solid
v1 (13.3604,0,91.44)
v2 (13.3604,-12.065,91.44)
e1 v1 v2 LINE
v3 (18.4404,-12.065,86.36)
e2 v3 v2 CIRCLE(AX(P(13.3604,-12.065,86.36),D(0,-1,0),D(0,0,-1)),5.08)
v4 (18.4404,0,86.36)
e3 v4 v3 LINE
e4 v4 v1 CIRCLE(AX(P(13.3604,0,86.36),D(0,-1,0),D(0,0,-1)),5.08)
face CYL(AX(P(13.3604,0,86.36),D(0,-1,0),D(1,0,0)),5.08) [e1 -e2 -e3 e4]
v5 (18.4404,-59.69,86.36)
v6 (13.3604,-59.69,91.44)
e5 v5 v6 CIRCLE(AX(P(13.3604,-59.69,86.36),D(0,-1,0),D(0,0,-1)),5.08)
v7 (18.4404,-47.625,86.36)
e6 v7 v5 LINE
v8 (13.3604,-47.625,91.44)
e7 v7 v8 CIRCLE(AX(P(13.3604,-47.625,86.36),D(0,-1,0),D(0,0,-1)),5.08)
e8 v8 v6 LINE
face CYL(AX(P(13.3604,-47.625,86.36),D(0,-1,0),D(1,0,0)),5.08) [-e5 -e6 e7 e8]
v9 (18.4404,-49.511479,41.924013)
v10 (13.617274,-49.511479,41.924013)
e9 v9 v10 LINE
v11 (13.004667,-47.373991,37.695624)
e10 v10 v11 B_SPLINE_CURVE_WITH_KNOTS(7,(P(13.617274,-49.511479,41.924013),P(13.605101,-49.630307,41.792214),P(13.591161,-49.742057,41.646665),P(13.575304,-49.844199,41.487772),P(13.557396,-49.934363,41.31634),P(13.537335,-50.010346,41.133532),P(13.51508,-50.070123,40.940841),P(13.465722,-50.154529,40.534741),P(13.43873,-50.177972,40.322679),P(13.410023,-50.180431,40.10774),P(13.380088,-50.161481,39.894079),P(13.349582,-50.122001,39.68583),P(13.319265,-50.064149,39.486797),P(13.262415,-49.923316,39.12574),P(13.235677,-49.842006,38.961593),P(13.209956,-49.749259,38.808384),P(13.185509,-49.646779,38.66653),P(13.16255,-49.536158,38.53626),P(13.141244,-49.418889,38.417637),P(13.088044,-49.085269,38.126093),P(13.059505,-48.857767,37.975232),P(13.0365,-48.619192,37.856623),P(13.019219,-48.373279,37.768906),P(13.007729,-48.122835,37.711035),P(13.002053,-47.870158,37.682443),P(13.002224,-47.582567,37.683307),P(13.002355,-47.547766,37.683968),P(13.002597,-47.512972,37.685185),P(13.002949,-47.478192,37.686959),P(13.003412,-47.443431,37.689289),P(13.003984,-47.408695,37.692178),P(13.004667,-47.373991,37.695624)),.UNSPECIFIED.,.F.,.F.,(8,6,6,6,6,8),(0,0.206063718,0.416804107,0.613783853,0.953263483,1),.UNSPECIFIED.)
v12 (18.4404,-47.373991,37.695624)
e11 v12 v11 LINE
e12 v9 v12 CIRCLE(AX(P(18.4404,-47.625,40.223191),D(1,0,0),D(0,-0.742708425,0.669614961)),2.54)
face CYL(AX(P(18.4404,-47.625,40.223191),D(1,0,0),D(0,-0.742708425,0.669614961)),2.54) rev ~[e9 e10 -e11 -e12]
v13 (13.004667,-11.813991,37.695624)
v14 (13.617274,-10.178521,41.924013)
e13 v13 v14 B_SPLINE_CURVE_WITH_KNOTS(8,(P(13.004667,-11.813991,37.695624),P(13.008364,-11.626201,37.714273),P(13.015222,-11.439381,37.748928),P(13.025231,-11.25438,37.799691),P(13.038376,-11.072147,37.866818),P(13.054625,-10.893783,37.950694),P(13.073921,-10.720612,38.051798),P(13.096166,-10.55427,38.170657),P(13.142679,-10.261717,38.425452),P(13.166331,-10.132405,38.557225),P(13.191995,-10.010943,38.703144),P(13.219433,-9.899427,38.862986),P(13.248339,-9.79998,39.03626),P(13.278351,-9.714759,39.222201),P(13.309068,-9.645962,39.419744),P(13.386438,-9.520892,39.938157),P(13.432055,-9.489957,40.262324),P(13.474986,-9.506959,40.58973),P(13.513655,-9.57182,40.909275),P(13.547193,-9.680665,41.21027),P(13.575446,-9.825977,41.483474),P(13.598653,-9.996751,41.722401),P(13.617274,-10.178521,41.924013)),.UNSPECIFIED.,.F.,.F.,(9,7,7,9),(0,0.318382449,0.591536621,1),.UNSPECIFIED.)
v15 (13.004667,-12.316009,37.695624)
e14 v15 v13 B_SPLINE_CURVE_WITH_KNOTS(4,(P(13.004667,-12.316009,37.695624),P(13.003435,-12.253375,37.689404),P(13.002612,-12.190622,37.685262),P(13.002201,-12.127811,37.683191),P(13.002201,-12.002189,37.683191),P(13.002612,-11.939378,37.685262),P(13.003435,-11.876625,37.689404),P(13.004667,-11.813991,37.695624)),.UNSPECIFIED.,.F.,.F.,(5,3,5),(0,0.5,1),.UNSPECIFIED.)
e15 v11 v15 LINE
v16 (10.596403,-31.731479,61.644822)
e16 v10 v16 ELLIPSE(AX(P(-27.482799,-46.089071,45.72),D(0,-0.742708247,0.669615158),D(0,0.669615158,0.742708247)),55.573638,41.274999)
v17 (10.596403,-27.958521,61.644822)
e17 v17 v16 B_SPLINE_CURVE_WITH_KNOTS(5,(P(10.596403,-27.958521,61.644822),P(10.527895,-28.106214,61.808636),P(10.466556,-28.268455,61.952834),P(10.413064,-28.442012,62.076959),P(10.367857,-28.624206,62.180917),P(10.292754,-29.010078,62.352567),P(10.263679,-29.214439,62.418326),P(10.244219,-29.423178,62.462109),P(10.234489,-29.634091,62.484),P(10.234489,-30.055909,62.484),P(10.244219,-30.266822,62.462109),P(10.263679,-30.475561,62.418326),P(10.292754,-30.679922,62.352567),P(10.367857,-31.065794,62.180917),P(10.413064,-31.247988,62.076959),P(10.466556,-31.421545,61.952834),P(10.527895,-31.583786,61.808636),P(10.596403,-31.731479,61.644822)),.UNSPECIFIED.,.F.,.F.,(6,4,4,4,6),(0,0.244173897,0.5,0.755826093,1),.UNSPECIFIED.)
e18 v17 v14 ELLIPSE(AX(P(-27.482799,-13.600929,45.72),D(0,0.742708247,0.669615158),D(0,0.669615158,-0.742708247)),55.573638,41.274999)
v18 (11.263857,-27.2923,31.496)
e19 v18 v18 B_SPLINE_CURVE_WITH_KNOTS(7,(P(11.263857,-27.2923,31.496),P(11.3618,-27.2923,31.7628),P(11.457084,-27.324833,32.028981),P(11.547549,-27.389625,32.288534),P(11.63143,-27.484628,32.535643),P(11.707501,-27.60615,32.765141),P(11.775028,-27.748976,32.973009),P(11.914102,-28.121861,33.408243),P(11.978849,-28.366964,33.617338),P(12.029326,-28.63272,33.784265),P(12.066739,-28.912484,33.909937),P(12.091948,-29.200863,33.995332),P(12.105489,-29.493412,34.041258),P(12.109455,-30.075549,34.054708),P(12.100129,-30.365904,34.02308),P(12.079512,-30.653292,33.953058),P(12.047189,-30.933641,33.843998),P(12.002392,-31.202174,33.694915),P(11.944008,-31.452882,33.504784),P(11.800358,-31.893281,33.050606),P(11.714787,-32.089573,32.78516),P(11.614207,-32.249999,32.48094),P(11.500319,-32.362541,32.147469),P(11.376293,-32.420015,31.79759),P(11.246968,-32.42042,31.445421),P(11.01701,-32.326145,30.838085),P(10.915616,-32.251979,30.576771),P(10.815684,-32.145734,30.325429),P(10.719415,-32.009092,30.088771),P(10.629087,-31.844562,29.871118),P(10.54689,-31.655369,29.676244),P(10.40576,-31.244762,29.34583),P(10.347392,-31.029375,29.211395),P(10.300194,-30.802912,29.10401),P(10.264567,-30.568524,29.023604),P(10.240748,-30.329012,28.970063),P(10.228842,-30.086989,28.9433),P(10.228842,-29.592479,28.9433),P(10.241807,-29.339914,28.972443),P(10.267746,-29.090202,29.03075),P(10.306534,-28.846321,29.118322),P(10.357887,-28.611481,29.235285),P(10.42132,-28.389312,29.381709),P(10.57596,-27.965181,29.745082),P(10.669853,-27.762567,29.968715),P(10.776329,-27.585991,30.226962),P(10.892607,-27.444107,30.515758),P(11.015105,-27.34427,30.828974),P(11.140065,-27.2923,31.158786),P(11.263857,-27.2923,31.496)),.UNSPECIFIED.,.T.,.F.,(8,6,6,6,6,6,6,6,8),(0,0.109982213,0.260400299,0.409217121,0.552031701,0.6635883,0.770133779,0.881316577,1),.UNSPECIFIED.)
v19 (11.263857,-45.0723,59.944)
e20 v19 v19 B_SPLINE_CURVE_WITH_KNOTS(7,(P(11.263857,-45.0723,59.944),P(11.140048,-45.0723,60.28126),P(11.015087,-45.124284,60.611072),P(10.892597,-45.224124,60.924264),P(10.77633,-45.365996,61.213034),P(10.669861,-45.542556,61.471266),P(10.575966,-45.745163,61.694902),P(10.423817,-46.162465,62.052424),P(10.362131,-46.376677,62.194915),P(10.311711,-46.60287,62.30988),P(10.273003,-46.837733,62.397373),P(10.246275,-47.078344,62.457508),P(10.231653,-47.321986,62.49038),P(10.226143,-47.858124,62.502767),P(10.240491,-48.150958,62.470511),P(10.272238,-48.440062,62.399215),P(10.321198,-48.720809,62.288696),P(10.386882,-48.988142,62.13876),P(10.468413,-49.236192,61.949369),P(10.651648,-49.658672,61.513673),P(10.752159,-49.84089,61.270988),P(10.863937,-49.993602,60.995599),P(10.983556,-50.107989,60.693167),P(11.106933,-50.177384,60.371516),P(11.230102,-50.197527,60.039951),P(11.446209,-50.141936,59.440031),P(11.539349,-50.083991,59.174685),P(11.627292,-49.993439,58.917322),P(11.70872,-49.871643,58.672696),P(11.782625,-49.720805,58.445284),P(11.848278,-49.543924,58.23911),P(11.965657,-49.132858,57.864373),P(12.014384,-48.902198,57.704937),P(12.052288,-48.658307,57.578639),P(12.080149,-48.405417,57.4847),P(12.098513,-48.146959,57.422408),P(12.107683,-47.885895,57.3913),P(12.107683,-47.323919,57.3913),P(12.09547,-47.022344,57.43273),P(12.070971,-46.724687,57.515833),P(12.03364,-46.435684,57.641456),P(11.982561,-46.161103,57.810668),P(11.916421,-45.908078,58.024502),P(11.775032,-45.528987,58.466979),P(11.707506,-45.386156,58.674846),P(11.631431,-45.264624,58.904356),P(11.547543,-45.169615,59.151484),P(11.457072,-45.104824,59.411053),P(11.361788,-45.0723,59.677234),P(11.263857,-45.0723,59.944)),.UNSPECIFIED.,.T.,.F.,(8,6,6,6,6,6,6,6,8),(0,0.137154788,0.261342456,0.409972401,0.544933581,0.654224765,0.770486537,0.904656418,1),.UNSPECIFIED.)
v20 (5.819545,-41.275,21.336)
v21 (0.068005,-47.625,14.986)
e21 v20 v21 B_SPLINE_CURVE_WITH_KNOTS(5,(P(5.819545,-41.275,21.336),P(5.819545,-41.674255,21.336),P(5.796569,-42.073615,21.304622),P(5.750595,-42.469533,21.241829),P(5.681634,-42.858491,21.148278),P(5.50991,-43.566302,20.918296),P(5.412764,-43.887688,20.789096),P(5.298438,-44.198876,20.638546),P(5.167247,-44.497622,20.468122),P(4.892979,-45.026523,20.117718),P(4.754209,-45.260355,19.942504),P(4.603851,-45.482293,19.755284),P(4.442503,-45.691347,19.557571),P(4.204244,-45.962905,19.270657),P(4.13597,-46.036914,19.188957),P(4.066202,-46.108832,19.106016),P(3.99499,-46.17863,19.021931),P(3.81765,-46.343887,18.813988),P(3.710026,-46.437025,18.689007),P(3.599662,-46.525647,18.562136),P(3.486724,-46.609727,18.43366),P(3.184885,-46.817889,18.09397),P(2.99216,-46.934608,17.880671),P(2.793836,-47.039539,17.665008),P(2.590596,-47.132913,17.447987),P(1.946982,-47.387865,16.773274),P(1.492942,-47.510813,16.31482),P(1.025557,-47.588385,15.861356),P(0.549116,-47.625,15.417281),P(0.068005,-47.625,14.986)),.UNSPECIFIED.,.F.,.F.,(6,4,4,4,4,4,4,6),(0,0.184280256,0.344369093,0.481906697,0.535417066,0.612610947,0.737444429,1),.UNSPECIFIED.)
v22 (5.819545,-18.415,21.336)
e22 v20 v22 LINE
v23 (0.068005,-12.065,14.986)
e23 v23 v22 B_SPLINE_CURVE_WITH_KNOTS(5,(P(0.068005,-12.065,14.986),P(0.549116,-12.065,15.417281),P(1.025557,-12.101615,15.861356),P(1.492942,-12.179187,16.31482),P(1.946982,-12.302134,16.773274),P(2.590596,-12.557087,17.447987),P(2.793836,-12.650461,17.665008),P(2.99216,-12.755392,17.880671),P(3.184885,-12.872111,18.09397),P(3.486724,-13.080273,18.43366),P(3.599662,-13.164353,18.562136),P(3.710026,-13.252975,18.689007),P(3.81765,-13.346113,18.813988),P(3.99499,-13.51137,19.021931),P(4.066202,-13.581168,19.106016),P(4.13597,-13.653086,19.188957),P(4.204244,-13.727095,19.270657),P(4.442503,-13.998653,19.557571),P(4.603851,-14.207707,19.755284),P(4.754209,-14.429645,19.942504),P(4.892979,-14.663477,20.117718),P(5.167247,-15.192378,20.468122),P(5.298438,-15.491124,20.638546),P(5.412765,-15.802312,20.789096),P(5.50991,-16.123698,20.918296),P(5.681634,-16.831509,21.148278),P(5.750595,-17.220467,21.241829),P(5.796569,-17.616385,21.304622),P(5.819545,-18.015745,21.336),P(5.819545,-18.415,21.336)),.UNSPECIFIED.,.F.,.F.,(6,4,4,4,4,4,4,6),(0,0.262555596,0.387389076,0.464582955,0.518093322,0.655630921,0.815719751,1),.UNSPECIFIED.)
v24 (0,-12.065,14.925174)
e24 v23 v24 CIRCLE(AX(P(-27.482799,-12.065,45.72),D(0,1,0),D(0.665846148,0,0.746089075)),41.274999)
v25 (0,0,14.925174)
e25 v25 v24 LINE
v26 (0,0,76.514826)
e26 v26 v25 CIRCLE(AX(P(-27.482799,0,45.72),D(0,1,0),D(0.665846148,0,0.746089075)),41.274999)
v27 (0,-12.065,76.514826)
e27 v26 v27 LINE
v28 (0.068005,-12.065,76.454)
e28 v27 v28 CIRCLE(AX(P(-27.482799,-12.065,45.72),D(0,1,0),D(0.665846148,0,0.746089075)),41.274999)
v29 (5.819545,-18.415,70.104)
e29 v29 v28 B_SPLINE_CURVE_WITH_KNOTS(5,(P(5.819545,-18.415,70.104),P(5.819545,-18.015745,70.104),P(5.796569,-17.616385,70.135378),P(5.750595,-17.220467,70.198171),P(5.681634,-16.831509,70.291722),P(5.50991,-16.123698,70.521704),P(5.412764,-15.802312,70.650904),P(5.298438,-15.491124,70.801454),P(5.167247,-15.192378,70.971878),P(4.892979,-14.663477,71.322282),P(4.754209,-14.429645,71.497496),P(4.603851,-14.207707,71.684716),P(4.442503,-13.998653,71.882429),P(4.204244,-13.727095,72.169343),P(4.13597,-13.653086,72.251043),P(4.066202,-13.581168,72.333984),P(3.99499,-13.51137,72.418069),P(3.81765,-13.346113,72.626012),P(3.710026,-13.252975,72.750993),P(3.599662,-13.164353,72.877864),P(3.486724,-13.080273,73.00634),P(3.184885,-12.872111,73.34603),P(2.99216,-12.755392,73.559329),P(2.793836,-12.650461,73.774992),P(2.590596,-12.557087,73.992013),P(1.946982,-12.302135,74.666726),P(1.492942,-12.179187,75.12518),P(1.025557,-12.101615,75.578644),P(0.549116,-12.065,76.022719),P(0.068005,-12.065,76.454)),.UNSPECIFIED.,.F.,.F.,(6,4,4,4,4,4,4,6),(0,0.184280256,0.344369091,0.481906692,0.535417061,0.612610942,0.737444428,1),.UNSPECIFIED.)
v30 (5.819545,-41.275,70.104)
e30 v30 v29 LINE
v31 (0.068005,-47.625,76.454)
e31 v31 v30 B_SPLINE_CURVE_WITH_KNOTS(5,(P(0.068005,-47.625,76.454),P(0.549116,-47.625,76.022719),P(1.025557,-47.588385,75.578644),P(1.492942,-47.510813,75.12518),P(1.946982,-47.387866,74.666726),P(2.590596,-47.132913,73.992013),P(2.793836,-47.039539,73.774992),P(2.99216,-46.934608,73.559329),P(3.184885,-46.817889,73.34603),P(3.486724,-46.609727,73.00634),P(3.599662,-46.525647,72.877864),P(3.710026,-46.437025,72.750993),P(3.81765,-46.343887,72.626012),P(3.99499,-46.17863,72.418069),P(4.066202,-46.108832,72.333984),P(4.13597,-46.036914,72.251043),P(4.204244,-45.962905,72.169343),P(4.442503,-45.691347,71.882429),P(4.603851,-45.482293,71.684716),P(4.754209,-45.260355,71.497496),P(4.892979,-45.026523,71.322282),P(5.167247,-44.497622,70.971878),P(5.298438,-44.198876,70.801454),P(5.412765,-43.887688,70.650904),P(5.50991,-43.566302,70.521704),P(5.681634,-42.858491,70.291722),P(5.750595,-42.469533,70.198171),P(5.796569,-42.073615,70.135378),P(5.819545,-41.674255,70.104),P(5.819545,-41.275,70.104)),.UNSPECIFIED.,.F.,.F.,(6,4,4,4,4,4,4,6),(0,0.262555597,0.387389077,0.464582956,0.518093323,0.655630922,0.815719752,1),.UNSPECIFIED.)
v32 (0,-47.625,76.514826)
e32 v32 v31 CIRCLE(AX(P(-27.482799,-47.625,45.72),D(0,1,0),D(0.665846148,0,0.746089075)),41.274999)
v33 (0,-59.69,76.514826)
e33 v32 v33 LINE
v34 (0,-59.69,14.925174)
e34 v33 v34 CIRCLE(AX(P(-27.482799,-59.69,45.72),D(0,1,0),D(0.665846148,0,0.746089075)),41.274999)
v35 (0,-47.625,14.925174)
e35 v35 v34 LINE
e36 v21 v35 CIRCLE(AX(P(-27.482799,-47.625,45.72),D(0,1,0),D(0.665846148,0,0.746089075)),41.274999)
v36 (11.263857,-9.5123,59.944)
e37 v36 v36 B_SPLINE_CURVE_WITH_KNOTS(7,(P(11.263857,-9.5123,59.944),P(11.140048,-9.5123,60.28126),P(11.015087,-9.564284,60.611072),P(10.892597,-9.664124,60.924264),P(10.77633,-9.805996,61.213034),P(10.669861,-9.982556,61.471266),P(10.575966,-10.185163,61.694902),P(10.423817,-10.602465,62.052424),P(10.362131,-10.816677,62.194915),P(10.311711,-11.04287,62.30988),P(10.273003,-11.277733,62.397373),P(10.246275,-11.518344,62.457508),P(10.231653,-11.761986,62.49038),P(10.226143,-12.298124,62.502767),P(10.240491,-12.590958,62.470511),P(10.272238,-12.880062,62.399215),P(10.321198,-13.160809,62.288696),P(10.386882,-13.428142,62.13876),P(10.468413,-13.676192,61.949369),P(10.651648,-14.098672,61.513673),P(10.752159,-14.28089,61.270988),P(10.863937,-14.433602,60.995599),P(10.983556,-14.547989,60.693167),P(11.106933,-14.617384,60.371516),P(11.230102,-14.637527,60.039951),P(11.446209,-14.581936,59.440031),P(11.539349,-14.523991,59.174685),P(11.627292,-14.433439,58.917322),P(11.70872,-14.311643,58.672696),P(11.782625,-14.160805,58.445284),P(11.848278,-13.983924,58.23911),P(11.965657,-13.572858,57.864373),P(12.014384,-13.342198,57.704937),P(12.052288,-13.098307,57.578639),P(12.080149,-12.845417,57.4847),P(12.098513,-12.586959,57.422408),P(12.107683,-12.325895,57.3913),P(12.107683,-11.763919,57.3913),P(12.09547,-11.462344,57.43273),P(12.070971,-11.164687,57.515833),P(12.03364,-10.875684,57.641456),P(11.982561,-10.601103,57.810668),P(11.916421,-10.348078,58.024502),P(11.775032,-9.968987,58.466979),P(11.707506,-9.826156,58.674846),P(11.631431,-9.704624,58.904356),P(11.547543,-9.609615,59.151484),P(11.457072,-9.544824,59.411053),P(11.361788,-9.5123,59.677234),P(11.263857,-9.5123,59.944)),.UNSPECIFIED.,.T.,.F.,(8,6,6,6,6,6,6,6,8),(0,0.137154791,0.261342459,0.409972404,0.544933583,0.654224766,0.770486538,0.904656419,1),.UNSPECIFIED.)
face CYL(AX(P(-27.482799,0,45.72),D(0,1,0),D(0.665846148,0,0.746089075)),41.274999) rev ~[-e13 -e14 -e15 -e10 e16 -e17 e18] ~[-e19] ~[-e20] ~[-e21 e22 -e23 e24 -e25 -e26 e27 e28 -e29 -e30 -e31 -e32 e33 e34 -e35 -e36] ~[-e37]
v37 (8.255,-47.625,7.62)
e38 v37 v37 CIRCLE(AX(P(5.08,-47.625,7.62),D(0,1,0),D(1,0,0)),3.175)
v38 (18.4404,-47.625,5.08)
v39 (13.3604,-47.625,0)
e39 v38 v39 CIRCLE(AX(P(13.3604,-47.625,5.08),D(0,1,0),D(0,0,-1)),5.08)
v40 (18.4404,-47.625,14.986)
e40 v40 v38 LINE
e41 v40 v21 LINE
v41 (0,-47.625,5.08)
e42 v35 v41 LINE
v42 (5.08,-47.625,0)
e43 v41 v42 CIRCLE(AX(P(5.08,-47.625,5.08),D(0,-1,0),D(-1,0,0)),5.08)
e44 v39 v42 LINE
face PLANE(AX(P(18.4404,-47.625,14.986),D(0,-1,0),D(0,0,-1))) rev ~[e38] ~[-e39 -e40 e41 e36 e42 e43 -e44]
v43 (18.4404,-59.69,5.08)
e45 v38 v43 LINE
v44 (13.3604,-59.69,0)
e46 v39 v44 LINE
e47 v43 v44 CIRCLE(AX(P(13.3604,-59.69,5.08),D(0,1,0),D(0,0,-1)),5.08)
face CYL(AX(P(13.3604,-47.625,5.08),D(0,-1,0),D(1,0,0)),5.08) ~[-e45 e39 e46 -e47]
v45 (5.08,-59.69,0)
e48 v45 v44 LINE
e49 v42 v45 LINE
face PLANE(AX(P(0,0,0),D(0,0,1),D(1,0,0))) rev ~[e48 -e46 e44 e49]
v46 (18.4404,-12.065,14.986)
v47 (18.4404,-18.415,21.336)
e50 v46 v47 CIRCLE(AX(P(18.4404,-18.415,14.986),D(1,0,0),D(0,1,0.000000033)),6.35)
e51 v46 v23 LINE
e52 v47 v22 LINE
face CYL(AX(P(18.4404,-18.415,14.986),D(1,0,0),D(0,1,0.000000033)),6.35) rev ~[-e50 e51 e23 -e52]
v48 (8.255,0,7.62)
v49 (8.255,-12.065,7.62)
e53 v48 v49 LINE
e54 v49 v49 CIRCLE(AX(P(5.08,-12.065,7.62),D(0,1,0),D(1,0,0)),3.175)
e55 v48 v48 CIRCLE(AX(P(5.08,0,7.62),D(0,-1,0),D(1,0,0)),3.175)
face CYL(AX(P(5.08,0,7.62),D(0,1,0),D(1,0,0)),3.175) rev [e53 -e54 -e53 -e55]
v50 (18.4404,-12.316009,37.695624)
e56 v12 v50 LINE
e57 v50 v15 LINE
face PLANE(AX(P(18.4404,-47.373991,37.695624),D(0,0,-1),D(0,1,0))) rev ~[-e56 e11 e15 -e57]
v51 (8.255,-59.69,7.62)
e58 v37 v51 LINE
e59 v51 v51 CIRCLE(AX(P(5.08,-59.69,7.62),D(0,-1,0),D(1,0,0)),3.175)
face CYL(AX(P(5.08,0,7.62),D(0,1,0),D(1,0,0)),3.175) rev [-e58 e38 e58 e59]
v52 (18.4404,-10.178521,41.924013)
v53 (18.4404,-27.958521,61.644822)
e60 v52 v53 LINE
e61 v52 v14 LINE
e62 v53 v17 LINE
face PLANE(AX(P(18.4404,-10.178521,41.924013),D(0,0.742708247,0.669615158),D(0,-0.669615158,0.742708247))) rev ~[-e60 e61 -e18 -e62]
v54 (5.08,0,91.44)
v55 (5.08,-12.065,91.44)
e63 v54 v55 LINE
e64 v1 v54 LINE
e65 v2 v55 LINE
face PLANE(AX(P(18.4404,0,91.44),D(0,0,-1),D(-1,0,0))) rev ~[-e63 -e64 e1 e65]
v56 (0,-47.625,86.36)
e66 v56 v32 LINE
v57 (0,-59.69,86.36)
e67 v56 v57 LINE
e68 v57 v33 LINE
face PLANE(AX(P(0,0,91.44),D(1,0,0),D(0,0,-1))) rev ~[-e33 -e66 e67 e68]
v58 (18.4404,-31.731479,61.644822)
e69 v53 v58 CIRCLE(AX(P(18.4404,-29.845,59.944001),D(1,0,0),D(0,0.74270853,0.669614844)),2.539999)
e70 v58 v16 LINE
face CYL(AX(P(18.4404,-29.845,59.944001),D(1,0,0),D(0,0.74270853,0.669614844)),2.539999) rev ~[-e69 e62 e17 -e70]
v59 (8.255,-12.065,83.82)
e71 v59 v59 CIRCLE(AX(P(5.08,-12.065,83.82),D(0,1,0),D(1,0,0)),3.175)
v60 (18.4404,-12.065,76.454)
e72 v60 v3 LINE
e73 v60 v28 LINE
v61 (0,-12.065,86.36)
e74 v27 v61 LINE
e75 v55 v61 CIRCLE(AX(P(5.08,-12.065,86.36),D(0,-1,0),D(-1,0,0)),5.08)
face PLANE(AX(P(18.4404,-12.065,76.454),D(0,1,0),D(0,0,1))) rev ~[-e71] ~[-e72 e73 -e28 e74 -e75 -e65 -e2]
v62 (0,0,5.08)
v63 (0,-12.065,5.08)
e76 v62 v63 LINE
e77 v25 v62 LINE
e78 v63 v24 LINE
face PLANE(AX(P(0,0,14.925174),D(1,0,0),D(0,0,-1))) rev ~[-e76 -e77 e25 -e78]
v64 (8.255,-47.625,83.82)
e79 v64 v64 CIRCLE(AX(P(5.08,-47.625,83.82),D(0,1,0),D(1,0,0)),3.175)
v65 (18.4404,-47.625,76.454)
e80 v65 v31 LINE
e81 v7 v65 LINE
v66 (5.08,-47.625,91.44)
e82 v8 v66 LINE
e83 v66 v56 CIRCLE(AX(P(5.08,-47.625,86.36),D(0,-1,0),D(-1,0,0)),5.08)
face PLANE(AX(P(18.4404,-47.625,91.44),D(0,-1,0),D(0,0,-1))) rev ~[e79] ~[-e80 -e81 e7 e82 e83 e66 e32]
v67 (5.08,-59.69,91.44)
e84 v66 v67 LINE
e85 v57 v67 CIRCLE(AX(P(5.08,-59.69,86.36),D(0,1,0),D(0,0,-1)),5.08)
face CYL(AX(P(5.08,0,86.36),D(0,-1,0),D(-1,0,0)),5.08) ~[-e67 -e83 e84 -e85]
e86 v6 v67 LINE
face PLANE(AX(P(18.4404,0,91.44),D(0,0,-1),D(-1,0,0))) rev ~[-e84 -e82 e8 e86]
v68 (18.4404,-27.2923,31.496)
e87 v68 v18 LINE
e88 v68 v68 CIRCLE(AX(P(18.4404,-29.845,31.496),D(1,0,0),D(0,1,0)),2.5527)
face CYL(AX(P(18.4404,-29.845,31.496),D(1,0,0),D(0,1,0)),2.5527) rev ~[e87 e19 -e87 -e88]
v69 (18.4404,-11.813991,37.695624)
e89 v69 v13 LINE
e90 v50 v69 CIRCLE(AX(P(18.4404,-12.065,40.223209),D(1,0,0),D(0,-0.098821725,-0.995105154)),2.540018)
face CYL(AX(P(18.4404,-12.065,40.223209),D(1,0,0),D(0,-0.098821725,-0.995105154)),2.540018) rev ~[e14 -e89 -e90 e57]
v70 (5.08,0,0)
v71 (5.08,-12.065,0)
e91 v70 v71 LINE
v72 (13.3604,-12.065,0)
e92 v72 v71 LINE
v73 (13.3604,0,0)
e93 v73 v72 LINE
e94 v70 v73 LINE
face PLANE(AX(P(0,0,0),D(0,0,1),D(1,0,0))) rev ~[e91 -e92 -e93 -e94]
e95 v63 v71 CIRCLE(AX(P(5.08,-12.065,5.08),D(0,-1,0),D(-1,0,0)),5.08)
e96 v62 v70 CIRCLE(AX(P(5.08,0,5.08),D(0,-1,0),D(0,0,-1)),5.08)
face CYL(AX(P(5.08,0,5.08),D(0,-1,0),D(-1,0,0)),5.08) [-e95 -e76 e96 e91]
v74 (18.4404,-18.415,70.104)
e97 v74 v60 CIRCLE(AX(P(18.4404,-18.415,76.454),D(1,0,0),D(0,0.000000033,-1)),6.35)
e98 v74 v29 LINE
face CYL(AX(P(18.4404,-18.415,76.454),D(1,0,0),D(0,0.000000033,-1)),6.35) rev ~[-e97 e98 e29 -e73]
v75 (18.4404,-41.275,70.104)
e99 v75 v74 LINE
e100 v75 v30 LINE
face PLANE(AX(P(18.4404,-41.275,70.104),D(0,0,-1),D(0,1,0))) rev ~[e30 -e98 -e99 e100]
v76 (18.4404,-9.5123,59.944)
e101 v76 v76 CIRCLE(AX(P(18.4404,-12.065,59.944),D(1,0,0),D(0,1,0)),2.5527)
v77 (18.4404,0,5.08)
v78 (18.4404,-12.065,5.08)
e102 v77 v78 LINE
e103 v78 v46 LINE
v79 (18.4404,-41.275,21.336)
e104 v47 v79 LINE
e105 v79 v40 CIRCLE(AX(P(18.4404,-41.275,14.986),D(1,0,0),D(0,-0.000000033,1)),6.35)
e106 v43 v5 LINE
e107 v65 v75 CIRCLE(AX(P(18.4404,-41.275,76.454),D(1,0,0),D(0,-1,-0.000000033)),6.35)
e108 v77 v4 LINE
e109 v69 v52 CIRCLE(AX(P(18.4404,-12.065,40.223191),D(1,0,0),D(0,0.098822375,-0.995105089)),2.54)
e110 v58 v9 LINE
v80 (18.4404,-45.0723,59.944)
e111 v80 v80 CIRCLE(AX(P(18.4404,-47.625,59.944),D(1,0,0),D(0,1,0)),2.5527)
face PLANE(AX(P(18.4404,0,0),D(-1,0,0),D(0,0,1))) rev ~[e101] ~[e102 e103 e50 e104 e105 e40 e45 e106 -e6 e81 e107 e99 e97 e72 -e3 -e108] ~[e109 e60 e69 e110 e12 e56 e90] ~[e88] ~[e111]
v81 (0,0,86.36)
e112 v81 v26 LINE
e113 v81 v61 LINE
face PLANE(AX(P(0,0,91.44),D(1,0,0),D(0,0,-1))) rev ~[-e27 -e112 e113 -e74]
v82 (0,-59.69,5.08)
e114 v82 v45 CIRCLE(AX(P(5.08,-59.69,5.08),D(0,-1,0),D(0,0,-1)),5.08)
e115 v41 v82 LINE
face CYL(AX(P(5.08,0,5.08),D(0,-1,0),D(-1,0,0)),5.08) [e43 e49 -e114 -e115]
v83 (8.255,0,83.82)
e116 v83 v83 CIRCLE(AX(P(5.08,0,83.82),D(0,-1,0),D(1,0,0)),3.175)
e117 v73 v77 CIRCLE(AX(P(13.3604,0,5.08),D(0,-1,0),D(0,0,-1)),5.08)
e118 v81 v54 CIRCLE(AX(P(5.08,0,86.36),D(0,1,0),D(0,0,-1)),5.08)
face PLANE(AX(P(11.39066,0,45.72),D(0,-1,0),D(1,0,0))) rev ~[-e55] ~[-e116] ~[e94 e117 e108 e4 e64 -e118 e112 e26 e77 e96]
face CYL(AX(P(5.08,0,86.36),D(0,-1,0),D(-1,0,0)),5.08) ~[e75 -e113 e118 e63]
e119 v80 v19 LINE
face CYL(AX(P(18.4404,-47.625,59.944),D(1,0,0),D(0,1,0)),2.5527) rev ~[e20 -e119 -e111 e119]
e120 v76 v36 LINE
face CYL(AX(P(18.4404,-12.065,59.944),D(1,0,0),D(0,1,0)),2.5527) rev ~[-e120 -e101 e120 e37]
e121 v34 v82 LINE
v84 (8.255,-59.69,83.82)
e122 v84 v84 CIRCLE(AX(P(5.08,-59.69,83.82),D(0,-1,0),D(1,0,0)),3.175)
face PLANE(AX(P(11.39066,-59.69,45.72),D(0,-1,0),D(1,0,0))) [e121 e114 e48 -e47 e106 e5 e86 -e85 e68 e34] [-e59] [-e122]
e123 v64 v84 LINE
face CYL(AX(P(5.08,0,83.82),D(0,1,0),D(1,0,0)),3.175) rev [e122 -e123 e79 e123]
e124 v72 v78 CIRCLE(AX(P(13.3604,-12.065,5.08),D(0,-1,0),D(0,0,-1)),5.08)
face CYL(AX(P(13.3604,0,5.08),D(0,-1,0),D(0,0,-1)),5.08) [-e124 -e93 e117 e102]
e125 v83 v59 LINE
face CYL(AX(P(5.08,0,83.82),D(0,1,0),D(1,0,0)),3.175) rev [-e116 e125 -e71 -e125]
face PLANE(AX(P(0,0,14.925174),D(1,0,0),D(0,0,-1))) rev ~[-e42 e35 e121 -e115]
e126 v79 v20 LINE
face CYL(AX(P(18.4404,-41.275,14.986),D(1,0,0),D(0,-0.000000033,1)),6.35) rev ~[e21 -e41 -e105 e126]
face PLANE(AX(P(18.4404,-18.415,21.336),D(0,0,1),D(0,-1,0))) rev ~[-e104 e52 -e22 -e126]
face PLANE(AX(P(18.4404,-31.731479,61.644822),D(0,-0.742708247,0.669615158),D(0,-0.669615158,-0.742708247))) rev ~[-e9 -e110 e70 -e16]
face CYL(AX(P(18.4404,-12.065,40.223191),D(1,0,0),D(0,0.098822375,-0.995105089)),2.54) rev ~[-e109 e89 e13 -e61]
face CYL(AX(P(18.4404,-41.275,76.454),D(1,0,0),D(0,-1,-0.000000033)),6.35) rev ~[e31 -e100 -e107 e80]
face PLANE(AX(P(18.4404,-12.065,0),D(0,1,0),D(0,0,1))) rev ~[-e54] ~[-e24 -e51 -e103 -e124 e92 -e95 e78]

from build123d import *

# Parameters (mm, degrees)
F0_R     = 3.175
F1_DEPTH = 59.69
F2_R     = 5.08
F3_R     = 2.5527
F4_DEPTH = 18.4414
F5_R     = 5.08


with BuildPart() as f1:
    # F0 (on Front) → F1 (new body)
    with BuildSketch(Plane.XZ):
        with BuildLine():
            Line((0, 14.925174), (0, 0))
            Line((0, 0), (18.4404, 0))
            Line((18.4404, 0), (18.4404, 91.44))
            Line((18.4404, 91.44), (0, 91.44))
            Line((0, 91.44), (0, 76.514826))
            ThreePointArc((0, 76.514826), (13.7922, 45.72), (0, 14.925174))
        make_face()
        with Locations((5.08, 7.62)):
            Circle(F0_R, mode=Mode.SUBTRACT)
        with Locations((5.08, 83.82)):
            Circle(F0_R, mode=Mode.SUBTRACT)
    extrude(amount=F1_DEPTH)

    # F2
    f2_edges = [f1.edges().sort_by_distance(p)[0] for p in [
        (0, -29.845, 91.44),
        (0, -29.845, 0),
    ]]
    fillet(f2_edges, radius=F2_R)

    # F3 (on face) → F4 (cut, through all)
    with BuildSketch(Plane.YZ.offset(18.4404)):
        with Locations((-47.625, 59.944)):
            Circle(F3_R)
        with Locations((-12.065, 59.944)):
            Circle(F3_R)
        with Locations((-29.845, 31.496)):
            Circle(F3_R)
        with BuildLine():
            Line((-12.065, 91.44), (-47.625, 91.44))
            Line((-47.625, 91.44), (-47.625, 76.454))
            ThreePointArc((-47.625, 76.454), (-45.765128, 71.963872), (-41.275, 70.104))
            Line((-41.275, 70.104), (-18.415, 70.104))
            ThreePointArc((-18.415, 70.104), (-13.924872, 71.963872), (-12.065, 76.454))
            Line((-12.065, 76.454), (-12.065, 91.44))
        make_face()
        with BuildLine():
            Line((-47.625, 14.986), (-47.625, 0))
            Line((-47.625, 0), (-12.065, 0))
            Line((-12.065, 0), (-12.065, 14.986))
            ThreePointArc((-12.065, 14.986), (-13.924872, 19.476128), (-18.415, 21.336))
            Line((-18.415, 21.336), (-41.275, 21.336))
            ThreePointArc((-41.275, 21.336), (-45.765128, 19.476128), (-47.625, 14.986))
        make_face()
        with BuildLine():
            Line((-10.178521, 41.924013), (-27.958521, 61.644822))
            ThreePointArc((-27.958521, 61.644822), (-29.845, 62.484), (-31.731479, 61.644822))
            Line((-31.731479, 61.644822), (-49.511479, 41.924013))
            ThreePointArc((-49.511479, 41.924013), (-49.891828, 39.07729), (-47.373991, 37.695624))
            Line((-47.373991, 37.695624), (-12.316009, 37.695624))
            Line((-12.316009, 37.695624), (-11.813991, 37.695624))
            ThreePointArc((-11.813991, 37.695624), (-9.696027, 39.306912), (-10.178521, 41.924013))
        make_face()
        with BuildLine():
            ThreePointArc((-12.316009, 37.695624), (-12.065, 37.683191), (-11.813991, 37.695624))
            Line((-11.813991, 37.695624), (-12.316009, 37.695624))
        make_face()
    extrude(amount=-F4_DEPTH, mode=Mode.SUBTRACT)

    # F5
    f5_edges = [f1.edges().sort_by_distance(p)[0] for p in [
        (18.4404, -53.6575, 91.44),
        (18.4404, -6.0325, 91.44),
        (18.4404, -53.6575, 0),
        (18.4404, -6.0325, 0),
    ]]
    fillet(f5_edges, radius=F5_R)


solid = f1.part
